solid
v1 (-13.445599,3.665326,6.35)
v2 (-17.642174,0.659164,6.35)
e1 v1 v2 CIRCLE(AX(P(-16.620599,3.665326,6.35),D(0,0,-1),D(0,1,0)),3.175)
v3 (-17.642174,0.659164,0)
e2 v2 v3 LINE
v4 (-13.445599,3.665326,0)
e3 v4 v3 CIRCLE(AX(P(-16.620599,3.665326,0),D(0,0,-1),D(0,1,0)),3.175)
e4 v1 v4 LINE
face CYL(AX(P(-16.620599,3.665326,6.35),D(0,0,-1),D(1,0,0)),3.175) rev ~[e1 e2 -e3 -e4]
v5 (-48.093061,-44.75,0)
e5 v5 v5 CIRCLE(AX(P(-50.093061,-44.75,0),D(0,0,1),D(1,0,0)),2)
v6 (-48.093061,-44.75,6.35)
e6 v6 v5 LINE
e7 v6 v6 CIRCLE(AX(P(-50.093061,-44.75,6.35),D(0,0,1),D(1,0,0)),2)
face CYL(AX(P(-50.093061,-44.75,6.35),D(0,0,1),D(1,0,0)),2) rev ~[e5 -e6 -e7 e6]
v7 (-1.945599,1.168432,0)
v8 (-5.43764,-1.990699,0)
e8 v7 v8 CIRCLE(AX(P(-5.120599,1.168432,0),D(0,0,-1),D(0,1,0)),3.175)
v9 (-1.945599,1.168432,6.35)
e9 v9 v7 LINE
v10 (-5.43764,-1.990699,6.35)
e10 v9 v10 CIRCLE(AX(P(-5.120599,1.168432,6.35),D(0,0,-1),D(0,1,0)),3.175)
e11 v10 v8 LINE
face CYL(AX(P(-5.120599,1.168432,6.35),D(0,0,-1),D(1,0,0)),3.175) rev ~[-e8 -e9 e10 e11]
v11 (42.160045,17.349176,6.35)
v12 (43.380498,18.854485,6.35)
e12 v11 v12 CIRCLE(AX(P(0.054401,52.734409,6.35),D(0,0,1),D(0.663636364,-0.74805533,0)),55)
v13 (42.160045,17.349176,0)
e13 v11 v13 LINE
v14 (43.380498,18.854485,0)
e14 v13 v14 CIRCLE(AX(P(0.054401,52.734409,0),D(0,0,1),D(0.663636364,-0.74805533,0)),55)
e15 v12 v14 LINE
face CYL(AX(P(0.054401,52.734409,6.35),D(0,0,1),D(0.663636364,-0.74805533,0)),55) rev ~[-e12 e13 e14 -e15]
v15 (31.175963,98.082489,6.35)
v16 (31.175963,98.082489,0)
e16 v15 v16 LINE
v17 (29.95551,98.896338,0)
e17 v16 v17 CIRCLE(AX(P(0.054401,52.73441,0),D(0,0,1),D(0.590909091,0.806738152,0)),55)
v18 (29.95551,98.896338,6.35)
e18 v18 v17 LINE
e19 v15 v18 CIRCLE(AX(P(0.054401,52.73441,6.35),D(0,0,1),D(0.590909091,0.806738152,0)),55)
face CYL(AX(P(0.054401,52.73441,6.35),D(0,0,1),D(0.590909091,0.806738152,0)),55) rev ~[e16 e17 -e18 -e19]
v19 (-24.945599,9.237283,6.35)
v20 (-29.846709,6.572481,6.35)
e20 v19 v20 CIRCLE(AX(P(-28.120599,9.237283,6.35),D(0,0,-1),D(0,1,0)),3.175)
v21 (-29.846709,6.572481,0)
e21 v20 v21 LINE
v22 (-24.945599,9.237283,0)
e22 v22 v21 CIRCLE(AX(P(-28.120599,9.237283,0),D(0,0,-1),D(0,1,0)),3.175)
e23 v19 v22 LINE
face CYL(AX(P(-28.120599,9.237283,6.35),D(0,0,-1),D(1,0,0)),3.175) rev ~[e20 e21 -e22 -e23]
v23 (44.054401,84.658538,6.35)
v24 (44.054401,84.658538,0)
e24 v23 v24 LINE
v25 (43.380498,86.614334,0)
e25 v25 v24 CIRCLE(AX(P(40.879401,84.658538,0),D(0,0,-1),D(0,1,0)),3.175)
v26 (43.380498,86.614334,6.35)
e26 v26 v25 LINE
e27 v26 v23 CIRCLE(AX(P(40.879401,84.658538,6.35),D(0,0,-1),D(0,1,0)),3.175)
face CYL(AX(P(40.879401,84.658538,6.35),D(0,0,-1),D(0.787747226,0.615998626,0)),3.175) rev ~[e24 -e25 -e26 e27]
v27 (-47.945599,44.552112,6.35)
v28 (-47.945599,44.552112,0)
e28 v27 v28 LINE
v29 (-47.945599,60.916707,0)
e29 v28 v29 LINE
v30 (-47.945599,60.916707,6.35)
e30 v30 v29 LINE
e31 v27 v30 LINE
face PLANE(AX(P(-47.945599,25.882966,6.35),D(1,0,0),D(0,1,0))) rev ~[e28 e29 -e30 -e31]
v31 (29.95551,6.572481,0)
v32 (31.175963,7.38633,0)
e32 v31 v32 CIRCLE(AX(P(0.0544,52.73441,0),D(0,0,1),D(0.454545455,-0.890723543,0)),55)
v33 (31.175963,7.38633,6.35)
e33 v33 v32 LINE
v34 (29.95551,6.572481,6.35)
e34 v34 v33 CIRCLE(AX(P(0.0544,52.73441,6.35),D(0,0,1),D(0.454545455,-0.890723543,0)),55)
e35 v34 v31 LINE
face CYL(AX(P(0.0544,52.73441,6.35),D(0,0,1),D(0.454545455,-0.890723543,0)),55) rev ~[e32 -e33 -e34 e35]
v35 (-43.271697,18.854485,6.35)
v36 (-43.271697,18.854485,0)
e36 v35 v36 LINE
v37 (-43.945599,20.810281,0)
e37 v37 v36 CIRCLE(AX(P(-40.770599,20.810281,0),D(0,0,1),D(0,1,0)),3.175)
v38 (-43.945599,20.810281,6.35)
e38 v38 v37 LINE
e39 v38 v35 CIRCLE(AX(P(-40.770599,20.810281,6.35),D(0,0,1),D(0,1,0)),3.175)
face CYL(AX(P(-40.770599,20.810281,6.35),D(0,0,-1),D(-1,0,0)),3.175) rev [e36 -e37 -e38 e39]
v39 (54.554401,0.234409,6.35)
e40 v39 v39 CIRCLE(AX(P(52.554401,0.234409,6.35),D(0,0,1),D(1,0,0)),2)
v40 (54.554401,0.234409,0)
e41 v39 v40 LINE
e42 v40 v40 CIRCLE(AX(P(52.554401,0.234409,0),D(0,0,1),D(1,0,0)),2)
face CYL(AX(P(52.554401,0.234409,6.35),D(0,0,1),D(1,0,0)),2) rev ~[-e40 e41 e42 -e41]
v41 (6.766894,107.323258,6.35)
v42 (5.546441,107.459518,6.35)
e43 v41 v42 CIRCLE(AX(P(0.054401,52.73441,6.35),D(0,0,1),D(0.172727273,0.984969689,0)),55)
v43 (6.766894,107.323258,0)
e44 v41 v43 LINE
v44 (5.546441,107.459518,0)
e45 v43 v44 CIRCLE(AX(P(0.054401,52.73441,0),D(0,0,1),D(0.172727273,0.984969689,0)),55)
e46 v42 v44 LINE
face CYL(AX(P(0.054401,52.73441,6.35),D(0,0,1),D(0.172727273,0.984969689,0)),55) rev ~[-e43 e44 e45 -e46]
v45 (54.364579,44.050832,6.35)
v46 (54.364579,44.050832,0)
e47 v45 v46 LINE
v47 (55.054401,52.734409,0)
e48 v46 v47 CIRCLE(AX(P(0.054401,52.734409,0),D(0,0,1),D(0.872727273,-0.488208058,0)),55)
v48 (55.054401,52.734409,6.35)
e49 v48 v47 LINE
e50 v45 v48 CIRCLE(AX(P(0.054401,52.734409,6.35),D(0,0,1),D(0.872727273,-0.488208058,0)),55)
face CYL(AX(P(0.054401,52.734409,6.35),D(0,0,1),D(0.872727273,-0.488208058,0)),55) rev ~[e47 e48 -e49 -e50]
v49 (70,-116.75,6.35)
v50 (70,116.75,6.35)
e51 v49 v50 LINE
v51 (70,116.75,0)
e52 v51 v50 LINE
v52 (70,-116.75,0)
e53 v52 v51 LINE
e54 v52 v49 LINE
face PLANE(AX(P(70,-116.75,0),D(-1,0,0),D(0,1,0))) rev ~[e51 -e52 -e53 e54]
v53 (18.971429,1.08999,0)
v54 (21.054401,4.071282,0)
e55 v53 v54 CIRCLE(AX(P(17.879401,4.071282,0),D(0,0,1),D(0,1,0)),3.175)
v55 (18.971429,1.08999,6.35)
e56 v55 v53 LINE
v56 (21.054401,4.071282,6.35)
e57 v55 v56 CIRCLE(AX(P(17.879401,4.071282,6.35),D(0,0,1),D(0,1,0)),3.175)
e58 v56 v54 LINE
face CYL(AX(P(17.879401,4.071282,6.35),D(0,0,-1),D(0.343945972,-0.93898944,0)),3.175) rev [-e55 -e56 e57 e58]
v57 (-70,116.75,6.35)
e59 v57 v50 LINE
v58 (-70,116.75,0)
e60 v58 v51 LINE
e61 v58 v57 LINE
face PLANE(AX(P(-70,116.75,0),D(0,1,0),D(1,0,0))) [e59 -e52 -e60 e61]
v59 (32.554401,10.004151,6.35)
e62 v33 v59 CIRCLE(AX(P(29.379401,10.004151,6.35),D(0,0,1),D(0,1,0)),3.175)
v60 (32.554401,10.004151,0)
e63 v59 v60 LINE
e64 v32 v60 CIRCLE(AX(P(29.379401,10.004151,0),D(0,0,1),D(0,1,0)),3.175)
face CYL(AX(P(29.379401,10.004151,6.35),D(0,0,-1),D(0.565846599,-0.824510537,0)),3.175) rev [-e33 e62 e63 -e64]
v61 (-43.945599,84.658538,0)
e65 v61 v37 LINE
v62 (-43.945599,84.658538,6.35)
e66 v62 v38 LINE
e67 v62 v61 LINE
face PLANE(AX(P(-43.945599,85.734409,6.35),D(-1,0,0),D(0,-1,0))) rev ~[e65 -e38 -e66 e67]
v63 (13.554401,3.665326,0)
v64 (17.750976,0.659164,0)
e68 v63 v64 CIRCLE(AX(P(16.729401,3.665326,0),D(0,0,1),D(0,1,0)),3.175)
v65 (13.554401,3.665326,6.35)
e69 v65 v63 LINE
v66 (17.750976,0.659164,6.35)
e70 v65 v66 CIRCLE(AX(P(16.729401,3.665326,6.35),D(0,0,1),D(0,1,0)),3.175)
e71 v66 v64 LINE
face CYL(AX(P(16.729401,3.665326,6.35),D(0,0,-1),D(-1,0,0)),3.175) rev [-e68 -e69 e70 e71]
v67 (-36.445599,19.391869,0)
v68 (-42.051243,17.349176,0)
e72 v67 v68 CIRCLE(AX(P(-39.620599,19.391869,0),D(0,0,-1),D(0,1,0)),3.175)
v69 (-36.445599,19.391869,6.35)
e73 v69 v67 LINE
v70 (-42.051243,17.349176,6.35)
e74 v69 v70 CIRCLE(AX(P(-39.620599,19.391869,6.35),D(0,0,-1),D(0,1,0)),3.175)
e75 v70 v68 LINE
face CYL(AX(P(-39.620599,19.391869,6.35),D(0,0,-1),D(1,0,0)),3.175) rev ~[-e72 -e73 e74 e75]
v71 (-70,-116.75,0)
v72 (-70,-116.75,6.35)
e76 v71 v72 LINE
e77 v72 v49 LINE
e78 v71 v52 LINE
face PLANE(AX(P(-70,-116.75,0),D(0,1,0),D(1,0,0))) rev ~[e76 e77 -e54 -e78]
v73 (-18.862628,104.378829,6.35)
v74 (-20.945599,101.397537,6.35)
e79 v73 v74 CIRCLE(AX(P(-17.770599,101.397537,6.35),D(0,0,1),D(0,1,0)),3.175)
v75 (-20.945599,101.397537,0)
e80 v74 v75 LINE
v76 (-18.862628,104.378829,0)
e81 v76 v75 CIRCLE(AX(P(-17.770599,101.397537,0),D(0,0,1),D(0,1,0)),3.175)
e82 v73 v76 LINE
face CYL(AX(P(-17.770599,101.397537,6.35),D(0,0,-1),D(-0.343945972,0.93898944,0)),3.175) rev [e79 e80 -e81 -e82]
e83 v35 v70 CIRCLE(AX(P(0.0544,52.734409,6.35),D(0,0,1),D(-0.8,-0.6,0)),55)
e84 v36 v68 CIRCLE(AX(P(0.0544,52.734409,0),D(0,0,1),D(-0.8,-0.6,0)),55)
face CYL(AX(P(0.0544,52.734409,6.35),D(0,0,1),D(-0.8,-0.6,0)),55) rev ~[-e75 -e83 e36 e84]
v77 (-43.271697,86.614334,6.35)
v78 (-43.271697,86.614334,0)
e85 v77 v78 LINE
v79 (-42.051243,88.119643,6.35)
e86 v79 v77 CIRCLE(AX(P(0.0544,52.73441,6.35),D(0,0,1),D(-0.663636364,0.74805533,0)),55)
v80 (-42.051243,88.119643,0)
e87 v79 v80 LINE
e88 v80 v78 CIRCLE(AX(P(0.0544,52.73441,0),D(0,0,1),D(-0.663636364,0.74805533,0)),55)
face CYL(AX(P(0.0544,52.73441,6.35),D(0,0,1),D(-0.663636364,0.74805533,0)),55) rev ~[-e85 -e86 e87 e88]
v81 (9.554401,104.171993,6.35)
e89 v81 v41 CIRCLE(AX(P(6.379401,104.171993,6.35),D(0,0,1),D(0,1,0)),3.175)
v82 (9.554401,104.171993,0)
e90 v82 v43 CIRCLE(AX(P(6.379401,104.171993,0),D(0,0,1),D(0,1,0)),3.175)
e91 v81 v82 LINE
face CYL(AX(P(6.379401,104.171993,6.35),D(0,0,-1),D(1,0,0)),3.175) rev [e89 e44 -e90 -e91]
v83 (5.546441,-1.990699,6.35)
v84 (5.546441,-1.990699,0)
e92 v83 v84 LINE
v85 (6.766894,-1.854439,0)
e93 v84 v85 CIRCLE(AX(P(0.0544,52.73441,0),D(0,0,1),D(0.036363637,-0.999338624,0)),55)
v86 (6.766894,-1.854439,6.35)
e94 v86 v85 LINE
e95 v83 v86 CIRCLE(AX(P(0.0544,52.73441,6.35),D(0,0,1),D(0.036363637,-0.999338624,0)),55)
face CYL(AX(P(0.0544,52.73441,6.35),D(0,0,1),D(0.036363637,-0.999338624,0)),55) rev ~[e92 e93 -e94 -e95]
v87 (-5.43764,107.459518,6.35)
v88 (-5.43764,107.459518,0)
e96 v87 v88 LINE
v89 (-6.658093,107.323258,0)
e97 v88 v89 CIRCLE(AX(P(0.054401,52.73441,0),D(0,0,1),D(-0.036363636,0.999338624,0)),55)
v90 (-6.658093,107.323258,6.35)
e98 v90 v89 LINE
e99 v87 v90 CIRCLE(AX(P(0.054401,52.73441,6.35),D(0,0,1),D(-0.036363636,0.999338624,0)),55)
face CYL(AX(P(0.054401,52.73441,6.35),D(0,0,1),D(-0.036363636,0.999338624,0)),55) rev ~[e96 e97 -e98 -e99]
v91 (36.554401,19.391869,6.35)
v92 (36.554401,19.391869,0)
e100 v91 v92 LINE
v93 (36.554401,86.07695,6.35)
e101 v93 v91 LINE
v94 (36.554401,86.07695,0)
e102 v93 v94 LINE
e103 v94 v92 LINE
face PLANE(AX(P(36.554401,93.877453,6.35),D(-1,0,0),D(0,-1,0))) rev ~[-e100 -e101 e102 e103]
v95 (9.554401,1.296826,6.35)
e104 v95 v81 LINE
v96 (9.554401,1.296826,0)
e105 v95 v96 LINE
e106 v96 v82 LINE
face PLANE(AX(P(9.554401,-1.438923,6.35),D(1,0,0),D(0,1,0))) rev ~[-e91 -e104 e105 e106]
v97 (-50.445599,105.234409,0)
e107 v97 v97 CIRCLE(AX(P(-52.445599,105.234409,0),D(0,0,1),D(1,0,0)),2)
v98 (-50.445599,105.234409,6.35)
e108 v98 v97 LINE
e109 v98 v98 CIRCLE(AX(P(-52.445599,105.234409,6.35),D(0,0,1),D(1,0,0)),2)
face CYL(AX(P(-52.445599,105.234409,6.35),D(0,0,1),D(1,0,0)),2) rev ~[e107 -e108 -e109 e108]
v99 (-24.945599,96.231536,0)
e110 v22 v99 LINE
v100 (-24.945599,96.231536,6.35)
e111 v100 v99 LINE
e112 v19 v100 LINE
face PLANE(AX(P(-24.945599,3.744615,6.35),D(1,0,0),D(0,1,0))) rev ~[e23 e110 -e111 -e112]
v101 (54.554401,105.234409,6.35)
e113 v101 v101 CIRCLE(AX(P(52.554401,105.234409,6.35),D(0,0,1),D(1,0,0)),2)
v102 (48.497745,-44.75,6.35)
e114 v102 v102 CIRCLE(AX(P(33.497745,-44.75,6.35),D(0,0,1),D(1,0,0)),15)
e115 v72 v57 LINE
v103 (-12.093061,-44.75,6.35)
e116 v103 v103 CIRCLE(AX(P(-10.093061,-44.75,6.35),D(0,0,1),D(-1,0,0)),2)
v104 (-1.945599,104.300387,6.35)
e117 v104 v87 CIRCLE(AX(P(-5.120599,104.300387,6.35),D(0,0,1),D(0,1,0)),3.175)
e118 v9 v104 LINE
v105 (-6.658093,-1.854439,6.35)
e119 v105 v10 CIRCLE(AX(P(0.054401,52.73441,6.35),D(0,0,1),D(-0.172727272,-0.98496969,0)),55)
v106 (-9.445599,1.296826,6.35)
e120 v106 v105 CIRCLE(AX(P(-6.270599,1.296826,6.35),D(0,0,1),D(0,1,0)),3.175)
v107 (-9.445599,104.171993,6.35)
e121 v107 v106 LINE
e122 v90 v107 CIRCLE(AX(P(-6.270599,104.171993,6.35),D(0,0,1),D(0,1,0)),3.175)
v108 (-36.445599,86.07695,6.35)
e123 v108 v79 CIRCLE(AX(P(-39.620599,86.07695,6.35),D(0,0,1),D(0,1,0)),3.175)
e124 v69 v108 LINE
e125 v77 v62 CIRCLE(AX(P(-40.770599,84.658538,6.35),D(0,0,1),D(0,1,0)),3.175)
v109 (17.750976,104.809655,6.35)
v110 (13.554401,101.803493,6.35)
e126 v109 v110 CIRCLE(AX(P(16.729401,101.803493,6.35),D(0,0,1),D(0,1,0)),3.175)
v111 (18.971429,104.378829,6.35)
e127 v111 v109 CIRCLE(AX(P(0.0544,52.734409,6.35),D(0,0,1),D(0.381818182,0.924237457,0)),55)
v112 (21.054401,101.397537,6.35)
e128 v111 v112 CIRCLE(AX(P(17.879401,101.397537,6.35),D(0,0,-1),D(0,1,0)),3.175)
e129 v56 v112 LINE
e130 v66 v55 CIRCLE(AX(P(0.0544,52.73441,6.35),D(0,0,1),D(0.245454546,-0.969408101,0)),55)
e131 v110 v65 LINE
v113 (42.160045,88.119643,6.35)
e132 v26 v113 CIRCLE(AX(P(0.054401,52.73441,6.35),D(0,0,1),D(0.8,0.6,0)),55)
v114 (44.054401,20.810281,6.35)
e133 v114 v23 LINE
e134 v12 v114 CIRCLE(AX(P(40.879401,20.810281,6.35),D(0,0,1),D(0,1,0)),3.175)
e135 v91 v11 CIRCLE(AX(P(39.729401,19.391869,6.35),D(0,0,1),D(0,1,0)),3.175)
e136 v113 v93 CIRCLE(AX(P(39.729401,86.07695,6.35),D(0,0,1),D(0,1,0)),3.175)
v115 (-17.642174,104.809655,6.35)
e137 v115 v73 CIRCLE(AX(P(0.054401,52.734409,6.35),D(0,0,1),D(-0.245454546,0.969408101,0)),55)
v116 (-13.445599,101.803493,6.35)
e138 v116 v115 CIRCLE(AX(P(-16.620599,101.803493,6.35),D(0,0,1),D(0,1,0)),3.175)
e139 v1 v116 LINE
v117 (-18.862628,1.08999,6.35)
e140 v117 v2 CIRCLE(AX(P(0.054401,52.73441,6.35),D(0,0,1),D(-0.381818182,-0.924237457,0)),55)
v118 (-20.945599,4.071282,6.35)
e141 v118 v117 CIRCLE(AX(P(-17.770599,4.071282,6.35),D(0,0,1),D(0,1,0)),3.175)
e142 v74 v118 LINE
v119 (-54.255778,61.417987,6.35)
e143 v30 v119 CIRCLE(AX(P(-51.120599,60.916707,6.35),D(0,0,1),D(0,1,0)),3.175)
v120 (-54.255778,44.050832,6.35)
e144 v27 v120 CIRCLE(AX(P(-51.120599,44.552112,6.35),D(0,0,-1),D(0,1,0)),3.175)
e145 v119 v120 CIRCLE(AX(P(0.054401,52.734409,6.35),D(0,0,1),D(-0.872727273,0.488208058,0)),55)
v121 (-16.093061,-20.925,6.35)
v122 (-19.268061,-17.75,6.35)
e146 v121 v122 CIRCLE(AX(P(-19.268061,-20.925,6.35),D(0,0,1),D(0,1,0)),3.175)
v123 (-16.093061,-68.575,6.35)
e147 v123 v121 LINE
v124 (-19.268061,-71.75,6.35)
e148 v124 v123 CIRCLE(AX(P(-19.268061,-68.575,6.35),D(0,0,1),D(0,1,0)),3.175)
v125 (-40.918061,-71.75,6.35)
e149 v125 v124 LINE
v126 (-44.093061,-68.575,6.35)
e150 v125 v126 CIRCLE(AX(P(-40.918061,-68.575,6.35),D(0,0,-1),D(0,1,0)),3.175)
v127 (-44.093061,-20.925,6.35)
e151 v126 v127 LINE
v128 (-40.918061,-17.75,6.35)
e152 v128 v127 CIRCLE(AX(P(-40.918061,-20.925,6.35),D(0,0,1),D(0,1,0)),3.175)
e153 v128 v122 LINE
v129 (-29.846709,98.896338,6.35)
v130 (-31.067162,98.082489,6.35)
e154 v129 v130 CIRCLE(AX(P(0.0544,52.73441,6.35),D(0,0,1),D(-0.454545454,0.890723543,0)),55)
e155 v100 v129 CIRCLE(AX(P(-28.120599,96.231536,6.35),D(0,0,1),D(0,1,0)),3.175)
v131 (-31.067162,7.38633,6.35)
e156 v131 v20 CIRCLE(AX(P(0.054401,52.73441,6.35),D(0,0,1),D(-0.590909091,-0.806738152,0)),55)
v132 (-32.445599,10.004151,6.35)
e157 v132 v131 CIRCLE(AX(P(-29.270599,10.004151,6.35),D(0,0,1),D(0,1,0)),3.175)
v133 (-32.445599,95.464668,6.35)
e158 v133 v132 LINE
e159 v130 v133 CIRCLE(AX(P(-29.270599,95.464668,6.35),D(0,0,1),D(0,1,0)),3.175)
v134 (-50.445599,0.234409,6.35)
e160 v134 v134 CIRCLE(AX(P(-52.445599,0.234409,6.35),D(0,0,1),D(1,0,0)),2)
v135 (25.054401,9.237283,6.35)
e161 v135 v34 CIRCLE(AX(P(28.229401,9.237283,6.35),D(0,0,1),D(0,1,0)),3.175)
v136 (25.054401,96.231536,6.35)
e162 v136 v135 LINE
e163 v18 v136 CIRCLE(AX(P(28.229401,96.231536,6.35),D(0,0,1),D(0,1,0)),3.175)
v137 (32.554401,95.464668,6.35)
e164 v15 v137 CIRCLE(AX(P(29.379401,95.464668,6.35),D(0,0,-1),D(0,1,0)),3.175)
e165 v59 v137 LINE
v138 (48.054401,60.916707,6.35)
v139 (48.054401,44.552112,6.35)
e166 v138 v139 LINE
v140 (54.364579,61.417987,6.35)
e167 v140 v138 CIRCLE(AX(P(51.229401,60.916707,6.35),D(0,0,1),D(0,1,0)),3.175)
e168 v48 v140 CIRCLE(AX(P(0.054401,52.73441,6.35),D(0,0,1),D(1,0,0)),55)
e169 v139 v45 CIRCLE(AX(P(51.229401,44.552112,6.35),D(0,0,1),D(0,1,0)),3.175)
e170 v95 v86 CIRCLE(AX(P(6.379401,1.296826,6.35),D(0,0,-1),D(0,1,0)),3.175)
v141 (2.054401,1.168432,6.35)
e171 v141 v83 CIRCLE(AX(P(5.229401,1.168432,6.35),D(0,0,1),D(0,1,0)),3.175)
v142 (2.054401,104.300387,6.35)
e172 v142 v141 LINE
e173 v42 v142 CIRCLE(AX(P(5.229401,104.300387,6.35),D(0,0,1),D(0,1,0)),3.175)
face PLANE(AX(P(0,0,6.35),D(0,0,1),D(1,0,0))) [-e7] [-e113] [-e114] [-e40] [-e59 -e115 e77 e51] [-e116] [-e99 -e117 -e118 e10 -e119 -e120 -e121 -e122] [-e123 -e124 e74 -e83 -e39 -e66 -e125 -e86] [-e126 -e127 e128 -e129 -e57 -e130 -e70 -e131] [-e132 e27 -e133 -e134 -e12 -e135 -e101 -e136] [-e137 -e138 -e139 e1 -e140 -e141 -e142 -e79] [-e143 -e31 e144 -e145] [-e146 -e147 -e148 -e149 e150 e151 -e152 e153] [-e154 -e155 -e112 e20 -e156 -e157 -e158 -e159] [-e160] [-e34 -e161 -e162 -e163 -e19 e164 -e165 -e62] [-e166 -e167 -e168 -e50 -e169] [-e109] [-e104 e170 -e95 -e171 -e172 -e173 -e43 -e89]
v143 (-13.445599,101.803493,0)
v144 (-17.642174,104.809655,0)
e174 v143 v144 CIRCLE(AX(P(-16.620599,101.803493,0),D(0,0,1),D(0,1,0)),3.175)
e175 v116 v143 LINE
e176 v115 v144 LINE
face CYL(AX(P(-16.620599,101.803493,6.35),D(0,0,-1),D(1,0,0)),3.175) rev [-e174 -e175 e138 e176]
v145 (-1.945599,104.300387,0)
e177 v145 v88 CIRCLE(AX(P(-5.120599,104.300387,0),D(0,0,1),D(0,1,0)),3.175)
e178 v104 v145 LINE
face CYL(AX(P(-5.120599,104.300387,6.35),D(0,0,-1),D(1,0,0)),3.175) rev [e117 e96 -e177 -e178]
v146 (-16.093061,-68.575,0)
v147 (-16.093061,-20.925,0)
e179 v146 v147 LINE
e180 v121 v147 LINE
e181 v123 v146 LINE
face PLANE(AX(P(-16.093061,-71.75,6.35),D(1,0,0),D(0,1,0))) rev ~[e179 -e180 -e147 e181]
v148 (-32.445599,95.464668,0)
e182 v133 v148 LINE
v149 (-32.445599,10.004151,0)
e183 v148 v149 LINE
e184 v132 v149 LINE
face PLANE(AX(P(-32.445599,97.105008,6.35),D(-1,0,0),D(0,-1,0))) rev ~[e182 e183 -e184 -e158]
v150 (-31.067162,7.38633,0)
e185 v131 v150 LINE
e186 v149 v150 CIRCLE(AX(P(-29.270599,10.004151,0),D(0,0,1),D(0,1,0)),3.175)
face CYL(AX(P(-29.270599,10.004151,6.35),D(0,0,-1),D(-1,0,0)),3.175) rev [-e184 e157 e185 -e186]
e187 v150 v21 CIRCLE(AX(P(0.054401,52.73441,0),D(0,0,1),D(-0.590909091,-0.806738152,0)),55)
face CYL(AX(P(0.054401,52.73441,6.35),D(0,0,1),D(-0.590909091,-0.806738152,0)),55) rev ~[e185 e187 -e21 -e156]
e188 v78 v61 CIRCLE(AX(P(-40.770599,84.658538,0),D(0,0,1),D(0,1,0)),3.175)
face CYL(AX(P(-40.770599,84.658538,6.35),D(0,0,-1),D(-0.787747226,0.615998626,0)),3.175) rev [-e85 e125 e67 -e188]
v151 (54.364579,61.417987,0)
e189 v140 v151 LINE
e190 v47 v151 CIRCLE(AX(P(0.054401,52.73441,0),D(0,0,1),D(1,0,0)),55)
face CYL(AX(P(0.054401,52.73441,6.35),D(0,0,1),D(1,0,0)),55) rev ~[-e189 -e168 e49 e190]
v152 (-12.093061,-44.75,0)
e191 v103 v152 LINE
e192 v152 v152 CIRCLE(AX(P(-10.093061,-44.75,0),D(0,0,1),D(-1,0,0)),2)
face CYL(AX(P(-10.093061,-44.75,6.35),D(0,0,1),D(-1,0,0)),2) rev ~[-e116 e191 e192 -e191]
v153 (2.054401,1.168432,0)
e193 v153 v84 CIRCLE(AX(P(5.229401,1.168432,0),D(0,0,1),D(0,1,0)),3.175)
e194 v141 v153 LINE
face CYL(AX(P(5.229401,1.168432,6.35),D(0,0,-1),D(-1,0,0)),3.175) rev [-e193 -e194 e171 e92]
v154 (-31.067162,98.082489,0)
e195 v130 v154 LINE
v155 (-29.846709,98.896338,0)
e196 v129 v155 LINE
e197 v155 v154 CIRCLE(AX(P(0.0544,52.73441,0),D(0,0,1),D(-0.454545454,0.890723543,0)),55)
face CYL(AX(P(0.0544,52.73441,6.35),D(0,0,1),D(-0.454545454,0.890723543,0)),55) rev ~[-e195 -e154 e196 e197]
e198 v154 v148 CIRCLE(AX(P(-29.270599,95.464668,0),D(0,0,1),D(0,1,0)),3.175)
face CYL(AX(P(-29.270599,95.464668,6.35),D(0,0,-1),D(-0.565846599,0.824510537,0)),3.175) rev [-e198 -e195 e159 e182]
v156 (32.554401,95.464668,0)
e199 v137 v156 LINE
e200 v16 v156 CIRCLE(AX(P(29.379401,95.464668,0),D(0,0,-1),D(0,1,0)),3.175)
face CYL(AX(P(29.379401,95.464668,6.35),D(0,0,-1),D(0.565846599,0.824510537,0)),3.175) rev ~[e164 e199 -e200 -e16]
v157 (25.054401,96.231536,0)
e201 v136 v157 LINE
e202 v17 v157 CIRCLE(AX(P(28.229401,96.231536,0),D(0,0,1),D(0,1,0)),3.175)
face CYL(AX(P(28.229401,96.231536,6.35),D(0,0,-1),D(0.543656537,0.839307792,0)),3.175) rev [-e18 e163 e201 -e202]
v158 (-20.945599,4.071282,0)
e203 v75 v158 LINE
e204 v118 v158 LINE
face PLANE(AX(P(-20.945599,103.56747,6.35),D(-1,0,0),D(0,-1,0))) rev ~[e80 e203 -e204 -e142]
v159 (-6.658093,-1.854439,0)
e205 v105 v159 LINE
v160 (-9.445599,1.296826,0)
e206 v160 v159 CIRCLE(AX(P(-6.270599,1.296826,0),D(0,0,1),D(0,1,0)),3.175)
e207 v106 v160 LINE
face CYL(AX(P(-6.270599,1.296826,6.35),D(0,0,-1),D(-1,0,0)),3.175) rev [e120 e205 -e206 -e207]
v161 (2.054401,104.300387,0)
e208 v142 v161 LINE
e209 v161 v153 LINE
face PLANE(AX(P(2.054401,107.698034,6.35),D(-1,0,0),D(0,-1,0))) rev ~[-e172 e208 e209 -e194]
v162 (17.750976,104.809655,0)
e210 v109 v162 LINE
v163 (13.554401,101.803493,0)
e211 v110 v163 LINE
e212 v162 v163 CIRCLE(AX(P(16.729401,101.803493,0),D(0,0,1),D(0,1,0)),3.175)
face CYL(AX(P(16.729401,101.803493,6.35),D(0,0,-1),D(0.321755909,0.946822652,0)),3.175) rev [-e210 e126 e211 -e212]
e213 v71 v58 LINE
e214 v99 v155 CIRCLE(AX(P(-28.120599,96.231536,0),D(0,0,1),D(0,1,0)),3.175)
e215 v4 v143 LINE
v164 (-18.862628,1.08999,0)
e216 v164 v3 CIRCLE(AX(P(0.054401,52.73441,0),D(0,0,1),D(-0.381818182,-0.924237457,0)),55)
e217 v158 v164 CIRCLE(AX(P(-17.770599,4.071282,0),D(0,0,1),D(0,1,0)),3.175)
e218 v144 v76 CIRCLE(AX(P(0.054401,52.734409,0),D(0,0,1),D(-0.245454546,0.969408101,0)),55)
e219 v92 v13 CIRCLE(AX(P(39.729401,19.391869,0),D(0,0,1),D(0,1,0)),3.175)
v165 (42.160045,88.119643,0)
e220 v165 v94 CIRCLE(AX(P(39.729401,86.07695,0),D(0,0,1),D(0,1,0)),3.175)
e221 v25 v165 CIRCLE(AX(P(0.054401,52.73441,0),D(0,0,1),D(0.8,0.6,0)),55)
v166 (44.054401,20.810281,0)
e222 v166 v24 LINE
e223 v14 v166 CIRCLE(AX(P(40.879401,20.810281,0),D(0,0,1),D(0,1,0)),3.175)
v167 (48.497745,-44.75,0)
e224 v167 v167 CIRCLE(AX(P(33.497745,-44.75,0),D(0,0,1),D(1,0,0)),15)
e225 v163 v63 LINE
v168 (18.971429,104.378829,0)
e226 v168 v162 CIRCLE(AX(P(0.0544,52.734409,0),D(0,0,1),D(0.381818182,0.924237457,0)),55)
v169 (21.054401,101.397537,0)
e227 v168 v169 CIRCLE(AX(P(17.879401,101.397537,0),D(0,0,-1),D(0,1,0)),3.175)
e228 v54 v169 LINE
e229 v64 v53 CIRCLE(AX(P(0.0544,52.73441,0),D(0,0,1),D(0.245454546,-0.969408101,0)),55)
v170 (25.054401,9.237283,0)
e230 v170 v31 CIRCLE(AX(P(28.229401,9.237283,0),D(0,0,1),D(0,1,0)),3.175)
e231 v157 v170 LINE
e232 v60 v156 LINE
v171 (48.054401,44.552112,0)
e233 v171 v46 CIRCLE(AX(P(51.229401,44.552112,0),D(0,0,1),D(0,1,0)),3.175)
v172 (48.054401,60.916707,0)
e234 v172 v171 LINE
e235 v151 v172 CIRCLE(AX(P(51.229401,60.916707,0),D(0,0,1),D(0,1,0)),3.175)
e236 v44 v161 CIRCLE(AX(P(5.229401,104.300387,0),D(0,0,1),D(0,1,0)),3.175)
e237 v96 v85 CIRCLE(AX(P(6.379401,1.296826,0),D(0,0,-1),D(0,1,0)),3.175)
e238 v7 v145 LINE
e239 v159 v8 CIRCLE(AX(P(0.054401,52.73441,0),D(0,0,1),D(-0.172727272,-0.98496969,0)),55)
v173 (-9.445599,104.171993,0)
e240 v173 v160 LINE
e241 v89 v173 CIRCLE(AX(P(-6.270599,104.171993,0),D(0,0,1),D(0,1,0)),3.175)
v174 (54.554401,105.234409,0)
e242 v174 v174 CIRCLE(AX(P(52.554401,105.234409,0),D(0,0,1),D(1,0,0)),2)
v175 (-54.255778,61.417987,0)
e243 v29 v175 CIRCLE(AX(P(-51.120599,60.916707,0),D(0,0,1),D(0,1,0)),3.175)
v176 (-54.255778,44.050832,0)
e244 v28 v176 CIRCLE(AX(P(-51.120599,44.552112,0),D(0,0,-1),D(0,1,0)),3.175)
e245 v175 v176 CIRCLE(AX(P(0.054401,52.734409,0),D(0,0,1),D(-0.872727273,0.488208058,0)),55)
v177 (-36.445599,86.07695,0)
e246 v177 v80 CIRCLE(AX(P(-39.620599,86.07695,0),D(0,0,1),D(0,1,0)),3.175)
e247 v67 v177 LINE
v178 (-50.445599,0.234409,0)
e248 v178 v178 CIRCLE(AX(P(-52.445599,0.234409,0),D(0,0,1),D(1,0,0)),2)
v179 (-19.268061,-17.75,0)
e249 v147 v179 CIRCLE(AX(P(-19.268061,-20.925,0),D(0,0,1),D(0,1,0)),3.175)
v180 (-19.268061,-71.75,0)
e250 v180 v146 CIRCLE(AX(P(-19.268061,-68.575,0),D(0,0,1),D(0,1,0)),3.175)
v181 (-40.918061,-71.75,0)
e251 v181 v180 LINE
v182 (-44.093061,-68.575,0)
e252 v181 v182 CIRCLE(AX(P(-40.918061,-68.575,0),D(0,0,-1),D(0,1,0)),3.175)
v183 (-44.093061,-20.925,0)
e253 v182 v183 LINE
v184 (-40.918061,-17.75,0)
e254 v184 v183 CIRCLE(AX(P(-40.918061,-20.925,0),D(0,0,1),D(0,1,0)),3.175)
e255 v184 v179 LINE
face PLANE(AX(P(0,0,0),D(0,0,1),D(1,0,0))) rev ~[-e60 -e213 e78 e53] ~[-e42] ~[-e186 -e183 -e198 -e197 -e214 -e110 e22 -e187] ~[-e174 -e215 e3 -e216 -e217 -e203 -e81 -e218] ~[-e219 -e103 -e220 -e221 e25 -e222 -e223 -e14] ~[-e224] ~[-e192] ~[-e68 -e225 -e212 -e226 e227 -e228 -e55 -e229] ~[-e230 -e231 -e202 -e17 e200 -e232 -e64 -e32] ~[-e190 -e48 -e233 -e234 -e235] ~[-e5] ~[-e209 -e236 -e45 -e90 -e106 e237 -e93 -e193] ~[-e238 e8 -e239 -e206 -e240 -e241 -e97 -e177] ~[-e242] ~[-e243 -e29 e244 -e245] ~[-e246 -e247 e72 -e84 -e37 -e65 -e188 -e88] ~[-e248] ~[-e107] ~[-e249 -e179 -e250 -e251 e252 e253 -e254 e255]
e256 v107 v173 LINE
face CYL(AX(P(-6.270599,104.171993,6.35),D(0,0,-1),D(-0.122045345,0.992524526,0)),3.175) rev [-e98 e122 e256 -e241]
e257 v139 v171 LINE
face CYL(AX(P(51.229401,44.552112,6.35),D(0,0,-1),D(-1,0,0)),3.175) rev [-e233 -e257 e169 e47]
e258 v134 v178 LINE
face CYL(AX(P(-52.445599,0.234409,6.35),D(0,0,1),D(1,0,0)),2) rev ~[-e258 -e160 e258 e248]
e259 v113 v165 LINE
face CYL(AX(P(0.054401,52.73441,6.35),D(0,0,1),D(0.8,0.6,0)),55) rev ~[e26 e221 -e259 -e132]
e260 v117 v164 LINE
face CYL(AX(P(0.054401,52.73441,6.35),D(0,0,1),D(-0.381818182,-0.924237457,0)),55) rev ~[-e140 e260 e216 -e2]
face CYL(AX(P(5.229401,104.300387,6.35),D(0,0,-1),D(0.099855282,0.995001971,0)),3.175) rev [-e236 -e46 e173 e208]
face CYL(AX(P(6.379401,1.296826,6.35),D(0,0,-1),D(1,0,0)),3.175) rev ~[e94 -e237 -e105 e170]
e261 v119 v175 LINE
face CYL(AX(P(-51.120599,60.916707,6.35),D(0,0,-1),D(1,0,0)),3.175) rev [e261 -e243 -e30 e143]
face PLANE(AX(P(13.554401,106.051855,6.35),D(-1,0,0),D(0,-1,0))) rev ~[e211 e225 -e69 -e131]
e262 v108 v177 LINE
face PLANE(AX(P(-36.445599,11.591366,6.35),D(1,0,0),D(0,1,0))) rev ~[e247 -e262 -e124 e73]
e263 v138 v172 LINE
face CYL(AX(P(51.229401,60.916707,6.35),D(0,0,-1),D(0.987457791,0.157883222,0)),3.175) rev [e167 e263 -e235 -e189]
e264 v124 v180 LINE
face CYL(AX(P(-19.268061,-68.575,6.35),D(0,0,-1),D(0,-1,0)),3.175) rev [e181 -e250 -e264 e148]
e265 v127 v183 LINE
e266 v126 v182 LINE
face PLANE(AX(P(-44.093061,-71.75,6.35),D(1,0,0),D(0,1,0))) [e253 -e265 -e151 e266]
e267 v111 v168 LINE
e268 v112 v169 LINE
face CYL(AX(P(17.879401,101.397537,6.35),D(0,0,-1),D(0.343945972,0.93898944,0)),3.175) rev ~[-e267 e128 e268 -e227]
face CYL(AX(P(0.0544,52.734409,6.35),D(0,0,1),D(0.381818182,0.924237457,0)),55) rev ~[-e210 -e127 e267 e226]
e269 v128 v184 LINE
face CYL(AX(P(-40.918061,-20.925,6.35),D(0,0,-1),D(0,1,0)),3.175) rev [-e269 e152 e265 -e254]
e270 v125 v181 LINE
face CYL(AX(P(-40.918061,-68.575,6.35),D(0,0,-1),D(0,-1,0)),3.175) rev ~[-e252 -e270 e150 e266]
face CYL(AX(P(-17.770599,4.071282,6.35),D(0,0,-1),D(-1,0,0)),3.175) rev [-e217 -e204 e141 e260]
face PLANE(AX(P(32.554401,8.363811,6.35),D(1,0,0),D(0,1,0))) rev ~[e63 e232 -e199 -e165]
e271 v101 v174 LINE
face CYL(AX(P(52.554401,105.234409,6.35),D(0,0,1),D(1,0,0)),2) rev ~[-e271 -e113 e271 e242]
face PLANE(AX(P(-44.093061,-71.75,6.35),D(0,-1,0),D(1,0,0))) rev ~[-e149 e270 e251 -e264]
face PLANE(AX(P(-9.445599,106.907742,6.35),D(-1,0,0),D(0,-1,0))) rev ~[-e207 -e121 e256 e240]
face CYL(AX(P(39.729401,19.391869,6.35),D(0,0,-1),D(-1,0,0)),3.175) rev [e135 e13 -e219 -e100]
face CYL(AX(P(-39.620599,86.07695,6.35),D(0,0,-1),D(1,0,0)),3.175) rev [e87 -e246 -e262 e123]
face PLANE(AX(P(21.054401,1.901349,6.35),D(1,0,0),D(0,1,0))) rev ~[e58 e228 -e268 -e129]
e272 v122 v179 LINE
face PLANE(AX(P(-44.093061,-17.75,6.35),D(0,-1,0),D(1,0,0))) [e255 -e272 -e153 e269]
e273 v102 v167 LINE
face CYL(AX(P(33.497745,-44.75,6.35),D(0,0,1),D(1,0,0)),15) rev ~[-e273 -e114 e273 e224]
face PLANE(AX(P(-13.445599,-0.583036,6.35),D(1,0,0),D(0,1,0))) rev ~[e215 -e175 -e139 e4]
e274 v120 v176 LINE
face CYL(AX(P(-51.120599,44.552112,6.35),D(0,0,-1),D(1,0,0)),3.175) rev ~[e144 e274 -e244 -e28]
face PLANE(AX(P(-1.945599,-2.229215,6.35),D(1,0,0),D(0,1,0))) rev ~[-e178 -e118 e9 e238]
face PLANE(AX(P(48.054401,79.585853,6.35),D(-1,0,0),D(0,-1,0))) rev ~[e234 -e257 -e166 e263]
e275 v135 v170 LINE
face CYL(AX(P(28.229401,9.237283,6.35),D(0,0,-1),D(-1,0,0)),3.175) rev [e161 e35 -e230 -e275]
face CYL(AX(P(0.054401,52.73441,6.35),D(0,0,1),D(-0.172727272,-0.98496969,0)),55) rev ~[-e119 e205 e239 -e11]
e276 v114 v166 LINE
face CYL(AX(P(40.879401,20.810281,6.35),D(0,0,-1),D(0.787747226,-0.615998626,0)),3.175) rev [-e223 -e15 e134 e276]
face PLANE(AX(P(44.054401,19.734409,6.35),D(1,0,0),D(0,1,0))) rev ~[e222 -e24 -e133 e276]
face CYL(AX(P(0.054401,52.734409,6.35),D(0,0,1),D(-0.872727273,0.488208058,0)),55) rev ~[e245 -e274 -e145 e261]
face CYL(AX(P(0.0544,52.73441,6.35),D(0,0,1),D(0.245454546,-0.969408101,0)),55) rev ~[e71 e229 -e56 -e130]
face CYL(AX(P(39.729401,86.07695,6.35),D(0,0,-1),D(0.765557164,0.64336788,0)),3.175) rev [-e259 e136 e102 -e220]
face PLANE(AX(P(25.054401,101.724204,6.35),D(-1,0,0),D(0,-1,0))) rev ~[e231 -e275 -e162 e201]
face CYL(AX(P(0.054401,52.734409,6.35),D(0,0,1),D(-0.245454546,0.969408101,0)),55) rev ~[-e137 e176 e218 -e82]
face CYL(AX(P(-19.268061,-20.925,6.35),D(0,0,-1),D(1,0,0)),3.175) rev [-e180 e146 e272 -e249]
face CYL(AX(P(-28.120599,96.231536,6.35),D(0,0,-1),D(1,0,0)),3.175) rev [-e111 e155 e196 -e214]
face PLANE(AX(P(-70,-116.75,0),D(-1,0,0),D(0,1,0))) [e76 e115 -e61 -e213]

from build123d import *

# Parameters (mm, degrees)
SKETCH1_W           = 140
SKETCH1_H           = 233.5
BOSS_EXTRUDE1_DEPTH = 6.35
SKETCH2_R           = 2
SKETCH2_W           = 28
SKETCH2_H           = 54
CUT_EXTRUDE1_DEPTH  = 137.275034397
FILLET1_R           = 3.175
SKETCH3_R           = 15
CUT_EXTRUDE2_DEPTH  = 137.275034397
SKETCH4_R           = 2
CUT_EXTRUDE3_DEPTH  = 137.275034397
CUT_EXTRUDE4_DEPTH  = 6.35
FILLET2_R           = 3.175


with BuildPart() as part:
    # Sketch1 → Boss-Extrude1 (new body)
    with BuildSketch(Plane.XY):
        Rectangle(SKETCH1_W, SKETCH1_H)
    extrude(amount=BOSS_EXTRUDE1_DEPTH)

    # Sketch2 → Cut-Extrude1 (cut, through all)
    with BuildSketch(Plane.XY.offset(6.35)):
        with Locations((-50.09306053, -44.75)):
            Circle(SKETCH2_R)
        with Locations(Location((-10.09306053, -44.75, 0), (0, 0, 180))):
            Circle(SKETCH2_R)
        with Locations((-30.09306053, -44.75)):
            Rectangle(SKETCH2_W, SKETCH2_H)
    extrude(amount=-CUT_EXTRUDE1_DEPTH, mode=Mode.SUBTRACT)

    # Fillet1
    fillet1_edges = [part.edges().sort_by_distance(p)[0] for p in [
        (-16.09306053, -17.75, 3.175),
        (-16.09306053, -71.75, 3.175),
        (-44.09306053, -71.75, 3.175),
        (-44.09306053, -17.75, 3.175),
    ]]
    fillet(fillet1_edges, radius=FILLET1_R)

    # Sketch3 → Cut-Extrude2 (cut, through all)
    with BuildSketch(Plane.XY.offset(6.35)):
        with Locations((33.497744664, -44.75)):
            Circle(SKETCH3_R)
    extrude(amount=-CUT_EXTRUDE2_DEPTH, mode=Mode.SUBTRACT)

    # Sketch4 → Cut-Extrude3 (cut, through all)
    with BuildSketch(Plane.XY.offset(6.35)):
        with Locations((-52.445599483, 105.234409499)):
            Circle(SKETCH4_R)
        with Locations((52.554400517, 105.234409499)):
            Circle(SKETCH4_R)
        with Locations((52.554400517, 0.234409499)):
            Circle(SKETCH4_R)
        with Locations((-52.445599483, 0.234409499)):
            Circle(SKETCH4_R)
    extrude(amount=-CUT_EXTRUDE3_DEPTH, mode=Mode.SUBTRACT)

    # Sketch5 → Cut-Extrude4 (cut)
    with BuildSketch(Plane.XY.offset(6.35)):
        with BuildLine():
            Line((-47.945599483, 25.882966335), (-47.945599483, 79.585852663))
            ThreePointArc((-47.945599483, 79.585852663), (-54.945599483, 52.734409499), (-47.945599483, 25.882966335))
        make_face()
        with BuildLine():
            Line((-36.445599483, 11.591366345), (-36.445599483, 93.877452653))
            ThreePointArc((-36.445599483, 93.877452653), (-40.401004412, 89.995115505), (-43.945599483, 85.734409499))
            Line((-43.945599483, 85.734409499), (-43.945599483, 19.734409499))
            ThreePointArc((-43.945599483, 19.734409499), (-40.401004412, 15.473703493), (-36.445599483, 11.591366345))
        make_face()
        with BuildLine():
            Line((-24.945599483, 3.744614643), (-24.945599483, 101.724204355))
            ThreePointArc((-24.945599483, 101.724204355), (-28.788219753, 99.56498985), (-32.445599483, 97.105007872))
            Line((-32.445599483, 97.105007872), (-32.445599483, 8.363811126))
            ThreePointArc((-32.445599483, 8.363811126), (-28.788219753, 5.903829149), (-24.945599483, 3.744614643))
        make_face()
        with BuildLine():
            Line((-13.445599483, -0.583036051), (-13.445599483, 106.051855049))
            ThreePointArc((-13.445599483, 106.051855049), (-17.240267527, 104.944508687), (-20.945599483, 103.567469608))
            Line((-20.945599483, 103.567469608), (-20.945599483, 1.90134939))
            ThreePointArc((-20.945599483, 1.90134939), (-17.240267527, 0.524310311), (-13.445599483, -0.583036051))
        make_face()
        with BuildLine():
            Line((-1.945599483, -2.229214836), (-1.945599483, 107.698033834))
            ThreePointArc((-1.945599483, 107.698033834), (-5.709160893, 107.431588219), (-9.445599483, 106.907742422))
            Line((-9.445599483, 106.907742422), (-9.445599483, -1.438923424))
            ThreePointArc((-9.445599483, -1.438923424), (-5.709160893, -1.96276922), (-1.945599483, -2.229214836))
        make_face()
        with BuildLine():
            Line((9.554400517, -1.438923424), (9.554400517, 106.907742422))
            ThreePointArc((9.554400517, 106.907742422), (5.817961927, 107.431588219), (2.054400517, 107.698033834))
            Line((2.054400517, 107.698033834), (2.054400517, -2.229214836))
            ThreePointArc((2.054400517, -2.229214836), (5.817961927, -1.96276922), (9.554400517, -1.438923424))
        make_face()
        with BuildLine():
            ThreePointArc((21.054400517, 103.567469608), (17.349068561, 104.944508687), (13.554400517, 106.051855049))
            Line((13.554400517, 106.051855049), (13.554400517, -0.583036051))
            ThreePointArc((13.554400517, -0.583036051), (17.349068561, 0.524310311), (21.054400517, 1.90134939))
            Line((21.054400517, 1.90134939), (21.054400517, 103.567469608))
        make_face()
        with BuildLine():
            ThreePointArc((32.554400517, 97.105007872), (28.897020787, 99.56498985), (25.054400517, 101.724204355))
            Line((25.054400517, 101.724204355), (25.054400517, 3.744614643))
            ThreePointArc((25.054400517, 3.744614643), (28.897020787, 5.903829149), (32.554400517, 8.363811126))
            Line((32.554400517, 8.363811126), (32.554400517, 97.105007872))
        make_face()
        with BuildLine():
            ThreePointArc((44.054400517, 85.734409499), (40.509805446, 89.995115505), (36.554400517, 93.877452653))
            Line((36.554400517, 93.877452653), (36.554400517, 11.591366345))
            ThreePointArc((36.554400517, 11.591366345), (40.509805446, 15.473703493), (44.054400517, 19.734409499))
            Line((44.054400517, 19.734409499), (44.054400517, 85.734409499))
        make_face()
        with BuildLine():
            ThreePointArc((55.054400517, 52.734409499), (53.27563688, 66.608846425), (48.054400517, 79.585852663))
            Line((48.054400517, 79.585852663), (48.054400517, 25.882966335))
            ThreePointArc((48.054400517, 25.882966335), (53.27563688, 38.859972574), (55.054400517, 52.734409499))
        make_face()
    extrude(amount=-CUT_EXTRUDE4_DEPTH, mode=Mode.SUBTRACT)

    # Fillet2
    fillet2_edges = [part.edges().sort_by_distance(p)[0] for p in [
        (-47.945599483, 79.585852663, 3.175),
        (-47.945599483, 25.882966335, 3.175),
        (-36.445599483, 93.877452653, 3.175),
        (-36.445599483, 11.591366345, 3.175),
        (-43.945599483, 19.734409499, 3.175),
        (-43.945599483, 85.734409499, 3.175),
        (-24.945599483, 101.724204355, 3.175),
        (-24.945599483, 3.744614643, 3.175),
        (-32.445599483, 8.363811126, 3.175),
        (-32.445599483, 97.105007872, 3.175),
        (-13.445599483, 106.051855049, 3.175),
        (-13.445599483, -0.583036051, 3.175),
        (-20.945599483, 1.90134939, 3.175),
        (-20.945599483, 103.567469608, 3.175),
        (-1.945599483, 107.698033834, 3.175),
        (-1.945599483, -2.229214836, 3.175),
        (-9.445599483, -1.438923424, 3.175),
        (-9.445599483, 106.907742422, 3.175),
        (9.554400517, 106.907742422, 3.175),
        (9.554400517, -1.438923424, 3.175),
        (2.054400517, -2.229214836, 3.175),
        (2.054400517, 107.698033834, 3.175),
        (21.054400517, 103.567469608, 3.175),
        (21.054400517, 1.90134939, 3.175),
        (13.554400517, -0.583036051, 3.175),
        (13.554400517, 106.051855049, 3.175),
        (32.554400517, 97.105007872, 3.175),
        (32.554400517, 8.363811126, 3.175),
        (25.054400517, 3.744614643, 3.175),
        (25.054400517, 101.724204355, 3.175),
        (44.054400517, 85.734409499, 3.175),
        (44.054400517, 19.734409499, 3.175),
        (36.554400517, 11.591366345, 3.175),
        (36.554400517, 93.877452653, 3.175),
        (48.054400517, 25.882966335, 3.175),
        (48.054400517, 79.585852663, 3.175),
    ]]
    fillet(fillet2_edges, radius=FILLET2_R)


solid = part.part
